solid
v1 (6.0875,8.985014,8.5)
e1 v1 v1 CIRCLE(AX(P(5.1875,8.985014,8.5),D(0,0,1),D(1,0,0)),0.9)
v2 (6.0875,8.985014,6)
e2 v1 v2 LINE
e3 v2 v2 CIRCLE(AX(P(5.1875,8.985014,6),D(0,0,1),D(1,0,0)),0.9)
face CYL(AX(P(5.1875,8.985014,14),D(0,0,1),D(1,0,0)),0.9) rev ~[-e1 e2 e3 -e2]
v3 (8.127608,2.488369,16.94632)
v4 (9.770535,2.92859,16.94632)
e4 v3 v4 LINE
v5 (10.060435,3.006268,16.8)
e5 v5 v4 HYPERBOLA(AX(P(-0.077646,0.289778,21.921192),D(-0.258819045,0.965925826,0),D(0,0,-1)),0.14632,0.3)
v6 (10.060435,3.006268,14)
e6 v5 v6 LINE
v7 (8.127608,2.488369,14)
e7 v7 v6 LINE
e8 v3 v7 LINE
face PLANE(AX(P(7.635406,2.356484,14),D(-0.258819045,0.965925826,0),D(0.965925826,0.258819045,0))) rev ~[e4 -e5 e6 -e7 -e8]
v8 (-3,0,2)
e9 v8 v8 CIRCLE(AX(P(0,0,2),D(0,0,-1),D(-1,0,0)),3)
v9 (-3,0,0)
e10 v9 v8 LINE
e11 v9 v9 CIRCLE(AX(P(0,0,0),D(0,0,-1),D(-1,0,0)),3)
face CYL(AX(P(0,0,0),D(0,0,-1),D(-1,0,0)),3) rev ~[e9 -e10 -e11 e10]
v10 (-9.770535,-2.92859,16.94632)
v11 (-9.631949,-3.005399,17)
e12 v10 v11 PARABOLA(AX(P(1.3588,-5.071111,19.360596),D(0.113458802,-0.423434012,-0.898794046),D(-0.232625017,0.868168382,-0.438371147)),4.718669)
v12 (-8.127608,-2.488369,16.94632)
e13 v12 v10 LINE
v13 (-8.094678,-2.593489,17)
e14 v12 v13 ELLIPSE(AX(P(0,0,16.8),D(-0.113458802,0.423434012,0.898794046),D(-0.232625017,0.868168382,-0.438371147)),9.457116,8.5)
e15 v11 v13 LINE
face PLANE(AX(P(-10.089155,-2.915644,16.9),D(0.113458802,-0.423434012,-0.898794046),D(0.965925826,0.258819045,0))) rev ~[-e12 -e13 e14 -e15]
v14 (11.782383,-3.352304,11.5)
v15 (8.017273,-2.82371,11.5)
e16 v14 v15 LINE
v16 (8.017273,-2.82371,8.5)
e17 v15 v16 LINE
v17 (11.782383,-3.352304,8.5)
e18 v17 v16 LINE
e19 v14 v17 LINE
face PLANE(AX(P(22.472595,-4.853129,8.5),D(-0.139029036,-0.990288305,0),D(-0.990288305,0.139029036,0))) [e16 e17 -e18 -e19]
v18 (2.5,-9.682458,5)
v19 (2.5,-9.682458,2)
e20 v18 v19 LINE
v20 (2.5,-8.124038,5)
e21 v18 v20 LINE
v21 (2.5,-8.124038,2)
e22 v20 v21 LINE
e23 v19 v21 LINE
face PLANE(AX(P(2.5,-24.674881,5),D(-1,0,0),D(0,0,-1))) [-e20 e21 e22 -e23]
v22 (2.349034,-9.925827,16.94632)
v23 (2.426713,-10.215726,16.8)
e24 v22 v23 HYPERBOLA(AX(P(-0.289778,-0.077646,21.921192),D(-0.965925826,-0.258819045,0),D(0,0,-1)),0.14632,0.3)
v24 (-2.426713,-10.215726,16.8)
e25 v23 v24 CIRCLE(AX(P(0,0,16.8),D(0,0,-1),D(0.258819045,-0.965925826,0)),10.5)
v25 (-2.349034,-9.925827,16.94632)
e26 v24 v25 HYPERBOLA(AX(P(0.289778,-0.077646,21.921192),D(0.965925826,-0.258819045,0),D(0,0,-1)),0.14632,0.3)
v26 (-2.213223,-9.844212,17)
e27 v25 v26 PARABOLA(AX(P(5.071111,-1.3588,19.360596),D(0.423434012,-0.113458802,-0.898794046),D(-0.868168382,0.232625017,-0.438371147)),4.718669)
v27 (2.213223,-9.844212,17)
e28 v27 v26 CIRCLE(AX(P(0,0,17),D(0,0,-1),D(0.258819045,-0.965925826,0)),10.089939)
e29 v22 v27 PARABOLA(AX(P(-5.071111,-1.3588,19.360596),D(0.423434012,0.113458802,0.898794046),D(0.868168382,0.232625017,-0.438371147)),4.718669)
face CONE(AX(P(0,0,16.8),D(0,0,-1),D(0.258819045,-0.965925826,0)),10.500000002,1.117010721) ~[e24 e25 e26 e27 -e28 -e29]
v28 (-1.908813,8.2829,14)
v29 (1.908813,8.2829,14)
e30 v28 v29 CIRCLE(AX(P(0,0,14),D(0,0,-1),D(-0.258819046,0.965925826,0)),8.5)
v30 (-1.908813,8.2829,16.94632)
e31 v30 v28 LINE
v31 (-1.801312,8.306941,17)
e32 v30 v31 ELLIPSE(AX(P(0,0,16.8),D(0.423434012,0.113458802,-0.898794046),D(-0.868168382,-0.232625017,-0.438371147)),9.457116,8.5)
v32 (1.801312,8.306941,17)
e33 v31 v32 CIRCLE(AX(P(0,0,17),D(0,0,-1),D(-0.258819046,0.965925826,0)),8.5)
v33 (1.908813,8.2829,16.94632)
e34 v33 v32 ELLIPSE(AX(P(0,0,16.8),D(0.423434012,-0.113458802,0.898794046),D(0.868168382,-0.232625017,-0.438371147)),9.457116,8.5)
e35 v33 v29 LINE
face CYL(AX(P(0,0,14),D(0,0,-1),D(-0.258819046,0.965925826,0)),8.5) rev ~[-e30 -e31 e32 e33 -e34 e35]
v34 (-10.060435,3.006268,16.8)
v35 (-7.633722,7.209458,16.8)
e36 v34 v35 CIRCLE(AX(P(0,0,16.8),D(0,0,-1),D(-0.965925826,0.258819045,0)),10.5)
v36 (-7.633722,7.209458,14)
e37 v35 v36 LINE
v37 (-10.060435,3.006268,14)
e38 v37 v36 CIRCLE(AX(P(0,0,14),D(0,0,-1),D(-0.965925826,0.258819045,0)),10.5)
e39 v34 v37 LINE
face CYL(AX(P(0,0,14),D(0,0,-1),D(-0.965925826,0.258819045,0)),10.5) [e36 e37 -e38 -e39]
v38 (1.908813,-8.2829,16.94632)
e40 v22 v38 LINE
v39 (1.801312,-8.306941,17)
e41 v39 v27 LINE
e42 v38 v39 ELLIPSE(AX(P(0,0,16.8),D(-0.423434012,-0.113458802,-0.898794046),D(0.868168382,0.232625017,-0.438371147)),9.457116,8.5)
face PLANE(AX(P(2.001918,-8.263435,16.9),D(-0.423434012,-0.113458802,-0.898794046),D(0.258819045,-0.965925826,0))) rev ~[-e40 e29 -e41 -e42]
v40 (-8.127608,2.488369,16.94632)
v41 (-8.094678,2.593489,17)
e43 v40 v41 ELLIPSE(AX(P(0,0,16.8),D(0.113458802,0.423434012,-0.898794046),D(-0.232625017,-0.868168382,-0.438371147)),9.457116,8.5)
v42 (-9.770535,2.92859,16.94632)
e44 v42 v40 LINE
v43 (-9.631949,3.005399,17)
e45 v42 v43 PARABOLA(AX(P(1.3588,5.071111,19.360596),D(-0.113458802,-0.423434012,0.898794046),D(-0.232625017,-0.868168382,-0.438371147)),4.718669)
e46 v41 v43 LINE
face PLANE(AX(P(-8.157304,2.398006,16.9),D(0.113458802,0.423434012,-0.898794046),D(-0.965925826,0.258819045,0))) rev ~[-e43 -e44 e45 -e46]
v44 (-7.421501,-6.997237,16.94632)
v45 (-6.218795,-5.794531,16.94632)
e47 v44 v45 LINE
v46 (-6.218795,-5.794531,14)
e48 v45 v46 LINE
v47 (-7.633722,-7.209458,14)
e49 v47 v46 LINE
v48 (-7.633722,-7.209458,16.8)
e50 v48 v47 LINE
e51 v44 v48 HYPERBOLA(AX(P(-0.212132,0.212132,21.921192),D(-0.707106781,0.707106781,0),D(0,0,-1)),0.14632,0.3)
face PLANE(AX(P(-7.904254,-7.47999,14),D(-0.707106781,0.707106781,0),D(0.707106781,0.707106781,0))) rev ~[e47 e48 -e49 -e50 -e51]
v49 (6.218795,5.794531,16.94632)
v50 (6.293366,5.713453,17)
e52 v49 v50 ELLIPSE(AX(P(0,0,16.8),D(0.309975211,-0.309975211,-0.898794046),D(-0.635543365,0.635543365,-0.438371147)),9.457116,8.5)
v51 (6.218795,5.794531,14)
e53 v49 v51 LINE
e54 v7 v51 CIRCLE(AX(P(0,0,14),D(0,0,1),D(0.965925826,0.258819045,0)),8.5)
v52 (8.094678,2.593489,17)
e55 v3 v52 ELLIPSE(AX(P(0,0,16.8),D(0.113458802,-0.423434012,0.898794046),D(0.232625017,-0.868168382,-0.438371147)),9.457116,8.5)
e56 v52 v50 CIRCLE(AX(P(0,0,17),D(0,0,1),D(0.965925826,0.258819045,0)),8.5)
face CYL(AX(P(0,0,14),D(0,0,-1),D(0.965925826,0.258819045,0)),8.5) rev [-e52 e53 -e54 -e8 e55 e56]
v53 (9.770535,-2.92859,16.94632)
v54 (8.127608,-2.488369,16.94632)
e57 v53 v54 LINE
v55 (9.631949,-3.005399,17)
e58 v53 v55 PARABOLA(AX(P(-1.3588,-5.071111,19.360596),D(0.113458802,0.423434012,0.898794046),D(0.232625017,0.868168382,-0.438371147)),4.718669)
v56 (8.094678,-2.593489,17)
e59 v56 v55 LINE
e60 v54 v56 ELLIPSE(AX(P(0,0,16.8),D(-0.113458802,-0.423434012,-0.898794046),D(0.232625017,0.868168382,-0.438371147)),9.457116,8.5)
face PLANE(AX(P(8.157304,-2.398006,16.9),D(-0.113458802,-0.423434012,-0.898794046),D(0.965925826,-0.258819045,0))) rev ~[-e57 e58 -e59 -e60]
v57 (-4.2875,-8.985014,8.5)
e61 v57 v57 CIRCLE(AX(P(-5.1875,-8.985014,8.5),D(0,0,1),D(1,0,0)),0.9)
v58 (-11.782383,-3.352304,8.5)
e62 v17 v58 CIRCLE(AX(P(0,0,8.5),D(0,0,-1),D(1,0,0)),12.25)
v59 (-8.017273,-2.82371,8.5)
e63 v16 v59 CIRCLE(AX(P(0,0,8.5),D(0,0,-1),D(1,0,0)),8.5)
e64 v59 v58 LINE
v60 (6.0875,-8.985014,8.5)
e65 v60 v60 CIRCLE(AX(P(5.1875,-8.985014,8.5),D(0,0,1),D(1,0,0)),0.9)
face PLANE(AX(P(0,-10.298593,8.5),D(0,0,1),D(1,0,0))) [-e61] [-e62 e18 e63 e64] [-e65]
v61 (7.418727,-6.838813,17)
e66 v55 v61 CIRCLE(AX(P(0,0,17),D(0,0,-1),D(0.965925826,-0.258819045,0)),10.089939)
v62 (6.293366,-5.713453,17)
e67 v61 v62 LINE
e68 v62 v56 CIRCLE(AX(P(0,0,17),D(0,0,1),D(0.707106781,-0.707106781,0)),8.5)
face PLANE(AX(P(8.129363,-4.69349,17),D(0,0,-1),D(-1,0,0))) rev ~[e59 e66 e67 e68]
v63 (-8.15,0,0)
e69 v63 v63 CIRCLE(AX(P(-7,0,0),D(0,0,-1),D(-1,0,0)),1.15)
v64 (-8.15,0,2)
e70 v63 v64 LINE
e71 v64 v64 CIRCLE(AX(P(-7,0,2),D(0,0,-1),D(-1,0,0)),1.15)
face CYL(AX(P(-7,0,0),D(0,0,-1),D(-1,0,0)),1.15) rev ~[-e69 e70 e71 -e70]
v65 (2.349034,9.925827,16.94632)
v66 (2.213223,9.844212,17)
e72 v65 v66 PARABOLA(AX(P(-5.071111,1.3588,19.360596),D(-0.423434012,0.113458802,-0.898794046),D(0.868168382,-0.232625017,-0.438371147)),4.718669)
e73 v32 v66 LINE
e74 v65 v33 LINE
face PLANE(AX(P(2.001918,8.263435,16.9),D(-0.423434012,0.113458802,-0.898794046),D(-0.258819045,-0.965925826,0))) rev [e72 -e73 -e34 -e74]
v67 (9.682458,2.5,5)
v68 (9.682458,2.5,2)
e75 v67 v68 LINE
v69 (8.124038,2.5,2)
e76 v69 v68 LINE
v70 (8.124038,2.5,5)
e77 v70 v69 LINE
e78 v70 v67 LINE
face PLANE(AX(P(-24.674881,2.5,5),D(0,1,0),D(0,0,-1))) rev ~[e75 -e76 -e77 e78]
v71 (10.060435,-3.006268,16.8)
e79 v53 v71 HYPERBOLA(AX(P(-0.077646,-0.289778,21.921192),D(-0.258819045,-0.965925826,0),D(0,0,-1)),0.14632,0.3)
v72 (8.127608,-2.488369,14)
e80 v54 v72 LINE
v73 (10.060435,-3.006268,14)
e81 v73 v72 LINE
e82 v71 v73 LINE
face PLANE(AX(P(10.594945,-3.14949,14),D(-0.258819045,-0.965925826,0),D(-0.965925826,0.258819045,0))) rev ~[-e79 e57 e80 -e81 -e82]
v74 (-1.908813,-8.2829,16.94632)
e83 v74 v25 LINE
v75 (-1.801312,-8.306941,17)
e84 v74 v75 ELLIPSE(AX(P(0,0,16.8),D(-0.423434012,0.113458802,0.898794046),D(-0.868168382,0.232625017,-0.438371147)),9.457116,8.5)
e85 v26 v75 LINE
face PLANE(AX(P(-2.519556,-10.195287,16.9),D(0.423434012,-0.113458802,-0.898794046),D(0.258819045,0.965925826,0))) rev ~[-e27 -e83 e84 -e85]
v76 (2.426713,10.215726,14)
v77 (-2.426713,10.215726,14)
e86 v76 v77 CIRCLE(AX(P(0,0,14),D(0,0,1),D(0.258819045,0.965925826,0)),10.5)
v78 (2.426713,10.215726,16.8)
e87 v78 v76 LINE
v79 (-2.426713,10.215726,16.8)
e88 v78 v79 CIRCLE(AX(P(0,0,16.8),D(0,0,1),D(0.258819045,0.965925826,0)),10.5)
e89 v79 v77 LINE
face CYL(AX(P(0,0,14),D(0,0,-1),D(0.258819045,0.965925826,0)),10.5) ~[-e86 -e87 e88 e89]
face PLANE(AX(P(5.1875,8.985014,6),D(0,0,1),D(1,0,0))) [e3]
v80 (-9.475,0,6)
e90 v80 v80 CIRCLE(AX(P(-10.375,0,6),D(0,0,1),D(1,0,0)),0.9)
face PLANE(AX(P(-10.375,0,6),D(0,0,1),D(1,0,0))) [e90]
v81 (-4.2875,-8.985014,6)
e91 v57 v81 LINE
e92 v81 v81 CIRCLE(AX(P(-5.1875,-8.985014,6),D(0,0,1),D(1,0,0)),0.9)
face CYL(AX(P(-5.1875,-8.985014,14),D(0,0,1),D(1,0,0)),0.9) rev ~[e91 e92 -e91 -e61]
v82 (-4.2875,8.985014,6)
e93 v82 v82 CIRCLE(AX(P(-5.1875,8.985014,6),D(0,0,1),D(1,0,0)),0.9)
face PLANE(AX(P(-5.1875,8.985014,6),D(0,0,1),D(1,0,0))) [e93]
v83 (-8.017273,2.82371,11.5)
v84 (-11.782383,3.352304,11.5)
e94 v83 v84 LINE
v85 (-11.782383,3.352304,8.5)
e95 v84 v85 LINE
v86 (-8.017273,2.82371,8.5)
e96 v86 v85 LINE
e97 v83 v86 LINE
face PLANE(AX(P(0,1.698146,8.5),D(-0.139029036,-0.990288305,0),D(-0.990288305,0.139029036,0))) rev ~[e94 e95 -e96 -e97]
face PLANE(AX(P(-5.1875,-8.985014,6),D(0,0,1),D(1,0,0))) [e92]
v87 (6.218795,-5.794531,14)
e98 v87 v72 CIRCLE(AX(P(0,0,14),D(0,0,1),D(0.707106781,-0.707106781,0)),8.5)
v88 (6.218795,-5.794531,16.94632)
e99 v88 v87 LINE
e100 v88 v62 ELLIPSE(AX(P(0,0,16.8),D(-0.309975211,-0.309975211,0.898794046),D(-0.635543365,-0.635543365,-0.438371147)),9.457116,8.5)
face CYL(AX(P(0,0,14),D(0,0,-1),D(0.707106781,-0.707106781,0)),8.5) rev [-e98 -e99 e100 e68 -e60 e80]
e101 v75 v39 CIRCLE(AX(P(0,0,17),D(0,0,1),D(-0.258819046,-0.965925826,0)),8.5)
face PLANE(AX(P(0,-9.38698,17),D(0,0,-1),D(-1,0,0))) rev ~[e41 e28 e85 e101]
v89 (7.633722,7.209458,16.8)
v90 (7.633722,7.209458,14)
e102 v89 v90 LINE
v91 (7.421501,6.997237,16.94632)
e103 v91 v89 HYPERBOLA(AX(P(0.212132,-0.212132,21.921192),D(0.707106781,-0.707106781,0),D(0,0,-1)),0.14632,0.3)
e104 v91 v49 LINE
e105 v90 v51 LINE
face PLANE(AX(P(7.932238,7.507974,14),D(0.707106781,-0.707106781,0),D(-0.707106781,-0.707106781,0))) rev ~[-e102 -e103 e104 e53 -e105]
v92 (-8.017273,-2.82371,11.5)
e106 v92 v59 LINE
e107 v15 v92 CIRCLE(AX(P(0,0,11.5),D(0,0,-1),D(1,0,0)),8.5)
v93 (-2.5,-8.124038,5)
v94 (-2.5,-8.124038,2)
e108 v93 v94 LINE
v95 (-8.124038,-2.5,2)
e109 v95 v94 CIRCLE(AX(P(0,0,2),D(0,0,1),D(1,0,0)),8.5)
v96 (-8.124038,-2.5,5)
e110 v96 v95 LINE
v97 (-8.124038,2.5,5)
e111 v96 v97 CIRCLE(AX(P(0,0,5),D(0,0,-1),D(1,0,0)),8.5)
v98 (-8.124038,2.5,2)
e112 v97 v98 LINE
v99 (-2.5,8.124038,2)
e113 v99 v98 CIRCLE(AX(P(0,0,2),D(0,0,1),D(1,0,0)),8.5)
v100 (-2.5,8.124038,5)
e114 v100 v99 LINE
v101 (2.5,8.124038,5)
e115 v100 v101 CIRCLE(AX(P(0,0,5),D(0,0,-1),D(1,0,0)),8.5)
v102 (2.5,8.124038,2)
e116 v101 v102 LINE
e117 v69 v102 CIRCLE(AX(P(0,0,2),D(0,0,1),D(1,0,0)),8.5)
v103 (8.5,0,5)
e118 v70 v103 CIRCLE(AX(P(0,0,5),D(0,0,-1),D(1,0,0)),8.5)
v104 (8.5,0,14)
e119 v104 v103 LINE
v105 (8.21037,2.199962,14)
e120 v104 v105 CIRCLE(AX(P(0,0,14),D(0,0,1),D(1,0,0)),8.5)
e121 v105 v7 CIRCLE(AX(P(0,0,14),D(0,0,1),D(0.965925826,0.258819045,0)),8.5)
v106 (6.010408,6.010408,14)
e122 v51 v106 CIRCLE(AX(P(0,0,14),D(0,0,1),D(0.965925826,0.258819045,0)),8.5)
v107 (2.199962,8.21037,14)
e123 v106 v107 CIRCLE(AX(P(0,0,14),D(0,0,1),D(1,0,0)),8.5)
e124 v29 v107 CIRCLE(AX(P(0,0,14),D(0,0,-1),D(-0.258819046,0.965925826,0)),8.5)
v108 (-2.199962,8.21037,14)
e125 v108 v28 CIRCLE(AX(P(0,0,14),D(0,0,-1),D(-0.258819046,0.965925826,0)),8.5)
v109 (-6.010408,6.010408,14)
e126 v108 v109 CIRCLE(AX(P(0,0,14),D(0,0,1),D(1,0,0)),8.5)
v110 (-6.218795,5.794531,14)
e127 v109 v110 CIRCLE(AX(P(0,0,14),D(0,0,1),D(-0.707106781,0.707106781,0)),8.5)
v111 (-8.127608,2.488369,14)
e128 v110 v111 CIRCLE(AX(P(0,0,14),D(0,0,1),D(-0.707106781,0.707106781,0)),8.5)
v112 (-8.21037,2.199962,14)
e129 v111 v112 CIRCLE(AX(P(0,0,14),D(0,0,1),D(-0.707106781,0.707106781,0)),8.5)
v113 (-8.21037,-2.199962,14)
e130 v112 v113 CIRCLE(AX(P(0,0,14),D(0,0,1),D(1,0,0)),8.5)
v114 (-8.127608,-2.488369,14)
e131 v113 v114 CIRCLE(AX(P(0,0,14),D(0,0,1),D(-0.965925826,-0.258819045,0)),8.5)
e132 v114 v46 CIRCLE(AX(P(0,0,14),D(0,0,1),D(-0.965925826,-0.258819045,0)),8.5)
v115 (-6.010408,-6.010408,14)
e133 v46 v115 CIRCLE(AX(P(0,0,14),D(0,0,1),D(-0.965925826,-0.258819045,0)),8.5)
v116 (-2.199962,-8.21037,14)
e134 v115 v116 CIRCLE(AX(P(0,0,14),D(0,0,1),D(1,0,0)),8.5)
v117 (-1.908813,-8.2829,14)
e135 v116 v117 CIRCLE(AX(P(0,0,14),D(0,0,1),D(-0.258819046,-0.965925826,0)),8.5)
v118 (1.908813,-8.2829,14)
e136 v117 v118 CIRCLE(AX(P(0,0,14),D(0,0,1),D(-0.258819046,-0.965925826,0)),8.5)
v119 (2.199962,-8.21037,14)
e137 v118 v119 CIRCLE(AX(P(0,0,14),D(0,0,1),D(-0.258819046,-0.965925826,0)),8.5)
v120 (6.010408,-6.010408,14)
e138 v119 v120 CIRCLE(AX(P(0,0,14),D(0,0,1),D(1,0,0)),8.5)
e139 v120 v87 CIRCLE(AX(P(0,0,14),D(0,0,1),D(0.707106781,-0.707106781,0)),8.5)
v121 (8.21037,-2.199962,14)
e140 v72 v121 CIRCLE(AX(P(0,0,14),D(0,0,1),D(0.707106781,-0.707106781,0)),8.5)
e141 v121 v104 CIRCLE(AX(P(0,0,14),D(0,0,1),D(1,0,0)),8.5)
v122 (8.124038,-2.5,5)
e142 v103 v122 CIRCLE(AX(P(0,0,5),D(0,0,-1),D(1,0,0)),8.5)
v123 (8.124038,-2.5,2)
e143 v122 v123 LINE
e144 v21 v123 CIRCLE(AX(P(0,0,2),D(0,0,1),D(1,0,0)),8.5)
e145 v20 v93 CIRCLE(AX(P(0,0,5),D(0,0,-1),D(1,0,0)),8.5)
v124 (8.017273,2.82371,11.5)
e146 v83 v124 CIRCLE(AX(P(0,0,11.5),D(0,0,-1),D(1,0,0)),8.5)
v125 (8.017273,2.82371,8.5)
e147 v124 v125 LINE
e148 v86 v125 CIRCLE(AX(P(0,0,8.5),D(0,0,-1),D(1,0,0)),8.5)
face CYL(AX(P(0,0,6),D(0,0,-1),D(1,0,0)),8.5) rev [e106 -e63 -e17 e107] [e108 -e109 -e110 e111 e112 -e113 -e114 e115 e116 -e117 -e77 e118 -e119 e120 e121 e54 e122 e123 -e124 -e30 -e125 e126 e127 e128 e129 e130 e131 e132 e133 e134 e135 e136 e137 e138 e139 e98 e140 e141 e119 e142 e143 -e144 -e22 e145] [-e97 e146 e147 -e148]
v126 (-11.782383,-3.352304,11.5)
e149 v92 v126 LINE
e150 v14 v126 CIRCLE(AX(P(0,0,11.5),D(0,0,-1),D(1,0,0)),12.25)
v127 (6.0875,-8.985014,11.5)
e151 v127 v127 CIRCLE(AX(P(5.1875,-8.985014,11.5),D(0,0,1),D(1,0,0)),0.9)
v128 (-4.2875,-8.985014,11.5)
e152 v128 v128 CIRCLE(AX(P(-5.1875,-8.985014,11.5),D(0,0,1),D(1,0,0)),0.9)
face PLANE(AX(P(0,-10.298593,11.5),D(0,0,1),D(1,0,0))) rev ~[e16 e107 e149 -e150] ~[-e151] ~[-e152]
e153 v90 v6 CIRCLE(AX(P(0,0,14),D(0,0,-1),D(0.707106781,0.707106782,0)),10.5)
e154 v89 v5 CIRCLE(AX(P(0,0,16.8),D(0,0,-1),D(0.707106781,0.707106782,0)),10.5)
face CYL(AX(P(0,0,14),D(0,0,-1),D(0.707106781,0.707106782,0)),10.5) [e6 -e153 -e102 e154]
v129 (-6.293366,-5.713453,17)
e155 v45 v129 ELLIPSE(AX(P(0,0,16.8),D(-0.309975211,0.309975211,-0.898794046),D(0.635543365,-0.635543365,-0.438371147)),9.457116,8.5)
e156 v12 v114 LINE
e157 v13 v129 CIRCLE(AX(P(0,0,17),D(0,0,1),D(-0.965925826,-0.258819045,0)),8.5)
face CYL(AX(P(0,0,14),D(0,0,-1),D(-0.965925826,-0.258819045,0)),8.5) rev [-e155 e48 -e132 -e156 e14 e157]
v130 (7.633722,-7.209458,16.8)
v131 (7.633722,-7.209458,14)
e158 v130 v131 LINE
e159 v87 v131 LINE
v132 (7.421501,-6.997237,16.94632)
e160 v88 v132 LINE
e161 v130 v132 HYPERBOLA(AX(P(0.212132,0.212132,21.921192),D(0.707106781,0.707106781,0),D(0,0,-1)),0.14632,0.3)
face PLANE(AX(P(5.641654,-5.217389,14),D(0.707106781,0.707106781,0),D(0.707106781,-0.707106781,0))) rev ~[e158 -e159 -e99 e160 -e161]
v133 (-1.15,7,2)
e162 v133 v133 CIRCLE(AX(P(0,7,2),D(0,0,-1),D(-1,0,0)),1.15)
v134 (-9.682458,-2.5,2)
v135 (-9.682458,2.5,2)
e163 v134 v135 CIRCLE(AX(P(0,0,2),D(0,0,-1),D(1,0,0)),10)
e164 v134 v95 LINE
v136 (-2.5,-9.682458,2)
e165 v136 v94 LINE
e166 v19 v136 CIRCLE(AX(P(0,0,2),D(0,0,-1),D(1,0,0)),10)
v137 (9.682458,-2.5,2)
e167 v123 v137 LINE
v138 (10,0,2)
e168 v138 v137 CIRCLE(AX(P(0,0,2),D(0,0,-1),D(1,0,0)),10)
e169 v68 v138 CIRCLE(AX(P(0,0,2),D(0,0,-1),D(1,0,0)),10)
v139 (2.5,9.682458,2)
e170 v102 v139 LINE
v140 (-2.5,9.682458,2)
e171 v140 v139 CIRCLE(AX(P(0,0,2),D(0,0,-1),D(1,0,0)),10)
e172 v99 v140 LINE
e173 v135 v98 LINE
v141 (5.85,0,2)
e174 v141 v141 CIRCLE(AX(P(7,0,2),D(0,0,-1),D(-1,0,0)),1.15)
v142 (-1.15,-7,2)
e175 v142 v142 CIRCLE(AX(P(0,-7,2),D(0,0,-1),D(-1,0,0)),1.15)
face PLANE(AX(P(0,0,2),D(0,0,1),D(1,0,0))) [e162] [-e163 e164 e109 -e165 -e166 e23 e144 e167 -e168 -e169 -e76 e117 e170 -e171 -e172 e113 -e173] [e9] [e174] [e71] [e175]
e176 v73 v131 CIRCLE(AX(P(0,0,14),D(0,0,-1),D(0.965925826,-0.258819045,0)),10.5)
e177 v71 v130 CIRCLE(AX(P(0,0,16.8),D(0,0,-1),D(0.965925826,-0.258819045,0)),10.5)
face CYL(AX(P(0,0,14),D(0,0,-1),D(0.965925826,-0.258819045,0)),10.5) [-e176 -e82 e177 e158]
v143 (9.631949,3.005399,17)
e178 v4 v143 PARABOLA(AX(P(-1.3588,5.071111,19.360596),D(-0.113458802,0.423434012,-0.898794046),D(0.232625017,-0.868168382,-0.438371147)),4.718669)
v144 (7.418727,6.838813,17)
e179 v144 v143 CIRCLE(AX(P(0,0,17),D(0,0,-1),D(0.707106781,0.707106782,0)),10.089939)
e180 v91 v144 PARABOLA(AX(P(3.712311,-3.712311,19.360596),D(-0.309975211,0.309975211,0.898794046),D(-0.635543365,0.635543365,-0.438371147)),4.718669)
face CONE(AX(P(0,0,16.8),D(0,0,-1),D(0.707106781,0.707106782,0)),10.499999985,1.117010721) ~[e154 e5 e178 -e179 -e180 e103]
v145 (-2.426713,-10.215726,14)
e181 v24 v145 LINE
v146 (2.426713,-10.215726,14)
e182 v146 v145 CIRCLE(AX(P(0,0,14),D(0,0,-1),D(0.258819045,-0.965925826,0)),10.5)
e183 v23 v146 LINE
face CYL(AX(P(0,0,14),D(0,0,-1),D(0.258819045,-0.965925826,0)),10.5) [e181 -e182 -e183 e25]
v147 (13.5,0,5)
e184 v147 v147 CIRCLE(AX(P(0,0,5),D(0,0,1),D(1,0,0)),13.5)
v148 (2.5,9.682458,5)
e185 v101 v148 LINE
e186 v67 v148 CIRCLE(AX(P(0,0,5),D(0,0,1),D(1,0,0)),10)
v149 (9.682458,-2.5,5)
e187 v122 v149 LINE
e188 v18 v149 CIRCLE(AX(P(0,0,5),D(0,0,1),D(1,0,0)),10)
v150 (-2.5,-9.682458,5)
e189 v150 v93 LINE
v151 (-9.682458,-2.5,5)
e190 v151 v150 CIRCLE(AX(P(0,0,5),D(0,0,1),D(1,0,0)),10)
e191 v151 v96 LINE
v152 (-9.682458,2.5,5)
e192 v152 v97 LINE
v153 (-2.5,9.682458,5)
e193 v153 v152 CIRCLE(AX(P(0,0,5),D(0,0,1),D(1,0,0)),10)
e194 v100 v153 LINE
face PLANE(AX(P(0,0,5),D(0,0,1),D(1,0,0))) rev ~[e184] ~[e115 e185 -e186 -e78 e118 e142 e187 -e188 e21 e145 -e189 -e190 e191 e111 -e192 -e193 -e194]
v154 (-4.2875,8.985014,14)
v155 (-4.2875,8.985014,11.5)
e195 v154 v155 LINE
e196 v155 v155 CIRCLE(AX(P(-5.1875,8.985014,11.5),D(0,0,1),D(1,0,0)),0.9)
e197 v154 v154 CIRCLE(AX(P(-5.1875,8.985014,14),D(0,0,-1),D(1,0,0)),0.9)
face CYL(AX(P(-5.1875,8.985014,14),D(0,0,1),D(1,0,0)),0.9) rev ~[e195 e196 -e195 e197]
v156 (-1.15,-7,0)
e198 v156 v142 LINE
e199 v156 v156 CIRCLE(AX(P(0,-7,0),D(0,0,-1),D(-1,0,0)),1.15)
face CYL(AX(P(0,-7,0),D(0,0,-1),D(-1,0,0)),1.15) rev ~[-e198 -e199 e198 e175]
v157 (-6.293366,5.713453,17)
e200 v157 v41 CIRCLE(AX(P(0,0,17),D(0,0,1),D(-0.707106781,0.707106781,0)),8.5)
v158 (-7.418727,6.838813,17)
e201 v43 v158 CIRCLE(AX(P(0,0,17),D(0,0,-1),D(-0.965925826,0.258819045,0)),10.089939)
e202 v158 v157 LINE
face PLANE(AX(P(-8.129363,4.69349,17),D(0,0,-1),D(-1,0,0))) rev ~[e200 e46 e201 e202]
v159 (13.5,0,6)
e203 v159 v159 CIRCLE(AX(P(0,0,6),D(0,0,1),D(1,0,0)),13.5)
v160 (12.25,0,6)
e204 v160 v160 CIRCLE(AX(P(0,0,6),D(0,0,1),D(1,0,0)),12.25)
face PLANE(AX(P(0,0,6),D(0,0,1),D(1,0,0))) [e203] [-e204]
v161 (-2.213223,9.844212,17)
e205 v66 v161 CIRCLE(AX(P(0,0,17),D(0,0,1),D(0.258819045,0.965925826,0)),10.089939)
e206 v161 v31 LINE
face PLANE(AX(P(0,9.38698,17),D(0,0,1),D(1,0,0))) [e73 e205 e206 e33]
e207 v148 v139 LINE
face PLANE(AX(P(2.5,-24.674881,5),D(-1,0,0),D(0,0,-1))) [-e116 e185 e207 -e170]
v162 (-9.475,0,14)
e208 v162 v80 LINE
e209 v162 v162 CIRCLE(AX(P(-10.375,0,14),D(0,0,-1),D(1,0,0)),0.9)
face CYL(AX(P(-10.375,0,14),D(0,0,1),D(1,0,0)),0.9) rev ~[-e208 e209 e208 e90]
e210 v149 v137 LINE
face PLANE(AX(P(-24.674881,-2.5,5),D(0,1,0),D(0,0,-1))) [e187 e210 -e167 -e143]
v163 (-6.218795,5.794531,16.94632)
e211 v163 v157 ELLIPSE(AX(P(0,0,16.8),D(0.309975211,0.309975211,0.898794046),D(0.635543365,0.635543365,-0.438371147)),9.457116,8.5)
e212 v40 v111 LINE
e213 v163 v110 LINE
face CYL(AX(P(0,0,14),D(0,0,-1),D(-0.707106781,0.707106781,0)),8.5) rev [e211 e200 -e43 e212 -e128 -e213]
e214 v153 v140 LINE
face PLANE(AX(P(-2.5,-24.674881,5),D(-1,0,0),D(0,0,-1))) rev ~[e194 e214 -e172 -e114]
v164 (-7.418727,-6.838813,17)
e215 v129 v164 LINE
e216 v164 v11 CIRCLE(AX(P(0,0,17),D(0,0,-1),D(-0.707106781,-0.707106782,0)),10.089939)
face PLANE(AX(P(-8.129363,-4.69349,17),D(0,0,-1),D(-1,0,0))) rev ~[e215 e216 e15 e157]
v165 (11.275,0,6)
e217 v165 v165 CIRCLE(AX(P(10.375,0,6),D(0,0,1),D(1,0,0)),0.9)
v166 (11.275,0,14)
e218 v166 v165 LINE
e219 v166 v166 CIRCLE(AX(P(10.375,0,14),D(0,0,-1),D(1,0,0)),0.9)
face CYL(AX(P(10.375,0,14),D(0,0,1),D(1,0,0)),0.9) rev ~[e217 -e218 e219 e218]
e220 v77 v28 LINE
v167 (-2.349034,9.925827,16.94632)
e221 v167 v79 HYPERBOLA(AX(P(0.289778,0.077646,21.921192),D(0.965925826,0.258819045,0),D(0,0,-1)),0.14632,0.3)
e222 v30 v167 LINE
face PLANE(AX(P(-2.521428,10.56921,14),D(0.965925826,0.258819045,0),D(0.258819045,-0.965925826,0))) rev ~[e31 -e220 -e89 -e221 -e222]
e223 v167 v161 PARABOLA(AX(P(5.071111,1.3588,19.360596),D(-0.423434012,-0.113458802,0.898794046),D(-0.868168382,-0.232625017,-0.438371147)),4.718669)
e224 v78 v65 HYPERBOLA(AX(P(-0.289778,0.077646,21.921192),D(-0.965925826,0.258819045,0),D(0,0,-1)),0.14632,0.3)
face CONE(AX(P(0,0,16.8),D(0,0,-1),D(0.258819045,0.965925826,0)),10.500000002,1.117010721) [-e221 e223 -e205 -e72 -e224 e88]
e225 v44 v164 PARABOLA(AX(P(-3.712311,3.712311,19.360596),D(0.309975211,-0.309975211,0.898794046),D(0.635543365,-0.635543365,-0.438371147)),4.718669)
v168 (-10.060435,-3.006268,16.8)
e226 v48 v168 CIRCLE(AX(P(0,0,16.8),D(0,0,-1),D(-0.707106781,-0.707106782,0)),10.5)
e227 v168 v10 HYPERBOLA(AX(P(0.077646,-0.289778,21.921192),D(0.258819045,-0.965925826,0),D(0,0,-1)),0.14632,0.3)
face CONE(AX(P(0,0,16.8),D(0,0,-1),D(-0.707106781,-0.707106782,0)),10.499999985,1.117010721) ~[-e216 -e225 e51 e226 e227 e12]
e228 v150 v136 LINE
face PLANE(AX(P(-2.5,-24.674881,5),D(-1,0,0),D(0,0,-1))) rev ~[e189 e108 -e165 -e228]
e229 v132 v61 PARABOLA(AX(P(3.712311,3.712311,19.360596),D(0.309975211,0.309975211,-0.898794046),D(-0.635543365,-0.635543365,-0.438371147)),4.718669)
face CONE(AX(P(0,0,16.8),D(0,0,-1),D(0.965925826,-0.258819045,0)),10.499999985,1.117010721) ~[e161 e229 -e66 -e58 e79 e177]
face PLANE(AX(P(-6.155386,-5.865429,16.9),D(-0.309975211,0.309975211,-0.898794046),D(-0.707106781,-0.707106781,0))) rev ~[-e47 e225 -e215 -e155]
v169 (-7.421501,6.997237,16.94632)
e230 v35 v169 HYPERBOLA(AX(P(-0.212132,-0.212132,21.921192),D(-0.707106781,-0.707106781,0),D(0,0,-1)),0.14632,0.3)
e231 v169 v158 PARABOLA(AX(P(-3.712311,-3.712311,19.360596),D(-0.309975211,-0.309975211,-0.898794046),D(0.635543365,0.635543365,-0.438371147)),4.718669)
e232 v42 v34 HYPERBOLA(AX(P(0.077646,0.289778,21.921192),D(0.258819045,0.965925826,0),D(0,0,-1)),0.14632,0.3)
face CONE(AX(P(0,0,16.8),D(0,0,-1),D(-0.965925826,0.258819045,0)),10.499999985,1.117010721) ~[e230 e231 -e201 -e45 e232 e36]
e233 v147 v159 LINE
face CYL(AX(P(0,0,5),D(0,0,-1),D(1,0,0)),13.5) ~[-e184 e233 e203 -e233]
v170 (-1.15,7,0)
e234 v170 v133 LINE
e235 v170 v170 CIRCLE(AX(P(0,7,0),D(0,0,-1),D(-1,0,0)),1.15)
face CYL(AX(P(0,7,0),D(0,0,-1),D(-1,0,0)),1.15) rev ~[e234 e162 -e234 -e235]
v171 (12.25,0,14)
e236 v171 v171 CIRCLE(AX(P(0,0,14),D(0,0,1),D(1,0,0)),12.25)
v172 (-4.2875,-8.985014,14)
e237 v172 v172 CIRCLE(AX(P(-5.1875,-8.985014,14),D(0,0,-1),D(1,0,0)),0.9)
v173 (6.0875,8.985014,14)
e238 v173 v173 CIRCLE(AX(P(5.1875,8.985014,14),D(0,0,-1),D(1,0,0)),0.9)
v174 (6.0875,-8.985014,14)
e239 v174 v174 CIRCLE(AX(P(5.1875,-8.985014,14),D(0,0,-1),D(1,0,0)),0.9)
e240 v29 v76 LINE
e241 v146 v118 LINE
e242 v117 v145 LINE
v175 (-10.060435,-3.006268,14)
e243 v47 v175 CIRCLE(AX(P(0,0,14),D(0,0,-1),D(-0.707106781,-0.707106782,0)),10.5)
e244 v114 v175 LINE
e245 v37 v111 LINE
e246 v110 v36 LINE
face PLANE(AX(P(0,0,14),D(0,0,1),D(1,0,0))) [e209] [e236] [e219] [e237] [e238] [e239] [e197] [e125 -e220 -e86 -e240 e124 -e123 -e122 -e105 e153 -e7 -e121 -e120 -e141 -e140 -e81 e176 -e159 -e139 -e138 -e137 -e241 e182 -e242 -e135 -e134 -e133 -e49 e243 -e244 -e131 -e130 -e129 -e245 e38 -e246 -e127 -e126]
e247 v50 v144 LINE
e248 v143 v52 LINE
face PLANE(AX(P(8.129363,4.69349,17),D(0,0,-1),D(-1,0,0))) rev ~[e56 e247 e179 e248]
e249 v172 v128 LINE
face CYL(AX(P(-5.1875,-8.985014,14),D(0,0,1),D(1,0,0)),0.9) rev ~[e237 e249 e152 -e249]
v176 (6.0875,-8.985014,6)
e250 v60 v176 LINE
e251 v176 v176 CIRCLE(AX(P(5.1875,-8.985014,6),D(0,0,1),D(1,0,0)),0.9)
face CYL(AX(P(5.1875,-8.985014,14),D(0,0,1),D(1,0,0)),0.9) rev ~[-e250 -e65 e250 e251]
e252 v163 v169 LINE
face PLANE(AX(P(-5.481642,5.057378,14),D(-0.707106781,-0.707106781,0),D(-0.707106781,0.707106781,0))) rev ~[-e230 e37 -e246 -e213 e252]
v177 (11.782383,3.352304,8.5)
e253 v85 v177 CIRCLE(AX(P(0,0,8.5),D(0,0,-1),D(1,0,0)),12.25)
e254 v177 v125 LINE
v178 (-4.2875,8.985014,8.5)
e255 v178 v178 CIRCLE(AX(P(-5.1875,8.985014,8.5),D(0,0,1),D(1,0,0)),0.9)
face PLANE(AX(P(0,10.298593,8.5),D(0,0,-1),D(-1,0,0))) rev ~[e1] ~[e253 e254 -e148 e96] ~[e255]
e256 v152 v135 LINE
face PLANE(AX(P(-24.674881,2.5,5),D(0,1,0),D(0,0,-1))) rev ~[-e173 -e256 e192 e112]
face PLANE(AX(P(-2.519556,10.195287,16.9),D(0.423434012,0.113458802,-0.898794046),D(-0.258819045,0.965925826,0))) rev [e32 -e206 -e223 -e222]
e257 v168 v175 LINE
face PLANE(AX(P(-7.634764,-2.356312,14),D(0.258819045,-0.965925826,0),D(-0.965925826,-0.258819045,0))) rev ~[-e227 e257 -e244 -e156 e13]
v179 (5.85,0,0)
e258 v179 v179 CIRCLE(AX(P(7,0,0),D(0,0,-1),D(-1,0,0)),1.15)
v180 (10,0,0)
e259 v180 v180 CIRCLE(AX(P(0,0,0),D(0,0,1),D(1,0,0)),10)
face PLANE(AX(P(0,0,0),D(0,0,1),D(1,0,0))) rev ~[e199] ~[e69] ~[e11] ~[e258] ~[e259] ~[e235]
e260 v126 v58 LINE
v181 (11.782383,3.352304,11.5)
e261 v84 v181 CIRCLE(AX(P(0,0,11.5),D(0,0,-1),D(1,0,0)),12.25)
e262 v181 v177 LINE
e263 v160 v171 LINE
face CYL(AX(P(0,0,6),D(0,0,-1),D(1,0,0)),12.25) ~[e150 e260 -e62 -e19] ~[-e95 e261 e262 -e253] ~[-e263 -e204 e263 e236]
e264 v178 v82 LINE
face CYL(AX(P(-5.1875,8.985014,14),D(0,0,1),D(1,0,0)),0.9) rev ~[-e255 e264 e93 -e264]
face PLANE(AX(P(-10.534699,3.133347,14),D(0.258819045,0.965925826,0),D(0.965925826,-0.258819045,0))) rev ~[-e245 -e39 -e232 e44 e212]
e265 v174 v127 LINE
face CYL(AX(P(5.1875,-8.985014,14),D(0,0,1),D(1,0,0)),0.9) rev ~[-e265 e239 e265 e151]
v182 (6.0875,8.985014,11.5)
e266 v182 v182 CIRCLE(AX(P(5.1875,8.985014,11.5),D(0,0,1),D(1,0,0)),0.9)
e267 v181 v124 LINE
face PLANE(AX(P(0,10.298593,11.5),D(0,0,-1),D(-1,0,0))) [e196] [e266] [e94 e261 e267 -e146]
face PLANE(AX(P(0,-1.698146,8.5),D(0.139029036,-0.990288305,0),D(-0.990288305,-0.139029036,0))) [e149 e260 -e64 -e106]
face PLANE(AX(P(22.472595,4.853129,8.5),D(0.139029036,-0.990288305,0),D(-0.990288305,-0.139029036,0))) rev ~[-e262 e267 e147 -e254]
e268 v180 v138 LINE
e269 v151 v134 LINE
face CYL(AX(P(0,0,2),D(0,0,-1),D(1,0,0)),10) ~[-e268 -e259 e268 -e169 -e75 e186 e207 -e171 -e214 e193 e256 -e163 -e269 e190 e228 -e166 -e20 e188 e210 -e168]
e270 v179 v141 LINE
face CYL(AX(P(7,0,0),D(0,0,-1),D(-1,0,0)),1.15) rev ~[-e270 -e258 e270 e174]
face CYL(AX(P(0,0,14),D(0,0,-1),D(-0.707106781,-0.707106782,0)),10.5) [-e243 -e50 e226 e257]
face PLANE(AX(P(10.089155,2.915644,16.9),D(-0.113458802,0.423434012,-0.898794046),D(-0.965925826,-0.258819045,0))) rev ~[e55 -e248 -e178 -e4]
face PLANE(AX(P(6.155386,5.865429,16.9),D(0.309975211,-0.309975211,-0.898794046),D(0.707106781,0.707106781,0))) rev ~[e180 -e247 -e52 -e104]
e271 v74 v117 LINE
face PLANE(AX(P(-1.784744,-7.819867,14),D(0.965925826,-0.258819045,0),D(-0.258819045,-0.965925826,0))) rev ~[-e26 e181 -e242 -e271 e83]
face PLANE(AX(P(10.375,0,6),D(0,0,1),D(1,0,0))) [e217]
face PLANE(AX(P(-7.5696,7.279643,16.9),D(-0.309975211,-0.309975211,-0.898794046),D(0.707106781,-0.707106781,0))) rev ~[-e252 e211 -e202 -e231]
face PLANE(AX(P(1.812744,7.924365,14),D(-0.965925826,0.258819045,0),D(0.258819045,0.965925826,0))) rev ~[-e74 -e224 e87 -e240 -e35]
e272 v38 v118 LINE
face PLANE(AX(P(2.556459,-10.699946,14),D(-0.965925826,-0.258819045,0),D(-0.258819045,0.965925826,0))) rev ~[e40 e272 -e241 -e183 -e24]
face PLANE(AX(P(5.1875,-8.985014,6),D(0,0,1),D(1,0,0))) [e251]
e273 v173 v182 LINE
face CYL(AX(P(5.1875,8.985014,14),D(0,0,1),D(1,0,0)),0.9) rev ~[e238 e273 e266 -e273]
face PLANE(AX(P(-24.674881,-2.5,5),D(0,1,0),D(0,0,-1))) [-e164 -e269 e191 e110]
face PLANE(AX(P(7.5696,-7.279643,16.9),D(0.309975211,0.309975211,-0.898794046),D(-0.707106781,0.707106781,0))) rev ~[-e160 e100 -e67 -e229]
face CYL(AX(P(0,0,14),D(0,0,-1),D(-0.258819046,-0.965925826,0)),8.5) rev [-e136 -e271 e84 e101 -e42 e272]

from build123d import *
from OCP.BRepFilletAPI import BRepFilletAPI_MakeChamfer

# Parameters (mm, degrees)
SKETCH_1_R               = 10
EXTRUDE_1_DEPTH          = 2
SKETCH_2_R               = 10
SKETCH_2_R_2             = 8.5
EXTRUDE_2_DEPTH          = 3
SKETCH_4_R               = 13.5
SKETCH_4_R_2             = 8.5
EXTRUDE_3_DEPTH          = 1
SKETCH_5_R               = 12.25
SKETCH_5_R_2             = 8.5
EXTRUDE_4_DEPTH          = 8
SKETCH_6_R               = 0.9
CUT_EXTRUDE_1_DEPTH      = 8
SKETCH_7_R               = 3
SKETCH_7_R_2             = 1.15
CUT_EXTRUDE_2_DEPTH      = 24.674881204
CUT_EXTRUDE_3_DEPTH      = 24.674881204
CUT_EXTRUDE_3_DEPTH_BACK = 24.674881204
SKETCH_8_W               = 5
SKETCH_8_H               = 3
CUT_EXTRUDE_4_DEPTH      = 24.674881204
CUT_EXTRUDE_4_DEPTH_BACK = 24.674881204
SKETCH_9_W               = 3
SKETCH_9_H               = 5
EXTRUDE_5_DEPTH          = 3
CHAMFER_1_SIZE           = 0.2
CHAMFER_1_SIZE2          = 0.410060768
CUT_EXTRUDE1_DEPTH       = 28
CUT_EXTRUDE2_DEPTH       = 1.5
CUT_EXTRUDE2_DEPTH_BACK  = 1.5


with BuildPart() as part:
    # 스케치1 → 보스-돌출1 (new body)
    with BuildSketch(Plane.XY):
        Circle(SKETCH_1_R)
    extrude(amount=EXTRUDE_1_DEPTH)

    # 스케치2 → 보스-돌출2 (add)
    with BuildSketch(Plane.XY.offset(2)):
        Circle(SKETCH_2_R)
        Circle(SKETCH_2_R_2, mode=Mode.SUBTRACT)
    extrude(amount=EXTRUDE_2_DEPTH)

    # 스케치4 → 보스-돌출3 (add)
    with BuildSketch(Plane.XY.offset(5)):
        Circle(SKETCH_4_R)
        Circle(SKETCH_4_R_2, mode=Mode.SUBTRACT)
    extrude(amount=EXTRUDE_3_DEPTH)

    # 스케치5 → 보스-돌출4 (add)
    with BuildSketch(Plane.XY.offset(6)):
        Circle(SKETCH_5_R)
        Circle(SKETCH_5_R_2, mode=Mode.SUBTRACT)
    extrude(amount=EXTRUDE_4_DEPTH)

    # 스케치6 → 컷-돌출1 (cut)
    with BuildSketch(Plane.XY.offset(14)):
        with Locations((10.375, 0)):
            Circle(SKETCH_6_R)
        with Locations((5.1875, -8.985013564)):
            Circle(SKETCH_6_R)
        with Locations((-5.1875, -8.985013564)):
            Circle(SKETCH_6_R)
        with Locations((-10.375, 0)):
            Circle(SKETCH_6_R)
        with Locations((-5.1875, 8.985013564)):
            Circle(SKETCH_6_R)
        with Locations((5.1875, 8.985013564)):
            Circle(SKETCH_6_R)
    extrude(amount=-CUT_EXTRUDE_1_DEPTH, mode=Mode.SUBTRACT)

    # 스케치7 → 컷-돌출2 (cut, through all)
    with BuildSketch(Plane(origin=(0, 0, 0), x_dir=(-1, 0, 0), z_dir=(0, 0, -1))):
        Circle(SKETCH_7_R)
        with Locations((-7, 0)):
            Circle(SKETCH_7_R_2)
        with Locations((7, 0)):
            Circle(SKETCH_7_R_2)
        with Locations((0, 7)):
            Circle(SKETCH_7_R_2)
        with Locations((0, -7)):
            Circle(SKETCH_7_R_2)
    extrude(amount=-CUT_EXTRUDE_2_DEPTH, mode=Mode.SUBTRACT)

    # 스케치8 → 컷-돌출3 (cut, two sides: drawn at the far end of the back side and taken through both)
    with BuildSketch(Plane(origin=(0, 0, 0), x_dir=(1, 0, 0), z_dir=(0, 1, 0)).offset(-CUT_EXTRUDE_3_DEPTH_BACK)):
        with Locations((0, -3.5)):
            Rectangle(SKETCH_8_W, SKETCH_8_H)
    extrude(amount=CUT_EXTRUDE_3_DEPTH + CUT_EXTRUDE_3_DEPTH_BACK, mode=Mode.SUBTRACT)

    # 스케치9 → 컷-돌출4 (cut, two sides: drawn at the far end of the back side and taken through both)
    with BuildSketch(Plane(origin=(0, 0, 0), x_dir=(0, 0, -1), z_dir=(1, 0, 0)).offset(-CUT_EXTRUDE_4_DEPTH_BACK)):
        with Locations((-3.5, 0)):
            Rectangle(SKETCH_9_W, SKETCH_9_H)
    extrude(amount=CUT_EXTRUDE_4_DEPTH + CUT_EXTRUDE_4_DEPTH_BACK, mode=Mode.SUBTRACT)

    # 스케치10 → 보스-돌출5 (add)
    with BuildSketch(Plane.XY.offset(14)):
        with BuildLine():
            Line((2.199961883, 8.210369523), (2.717599974, 10.142221176))
            ThreePointArc((2.717599974, 10.142221176), (0, 10.5), (-2.717599974, 10.142221176))
            Line((-2.717599974, 10.142221176), (-2.199961883, 8.210369523))
            ThreePointArc((-2.199961883, 8.210369523), (0, 8.5), (2.199961883, 8.210369523))
        make_face()
        with BuildLine():
            Line((6.01040764, 6.01040764), (7.424621202, 7.424621202))
            ThreePointArc((7.424621202, 7.424621202), (9.09326674, 5.25), (10.142221176, 2.717599974))
            Line((10.142221176, 2.717599974), (8.210369523, 2.199961883))
            ThreePointArc((8.210369523, 2.199961883), (7.361215932, 4.25), (6.01040764, 6.01040764))
        make_face()
        with BuildLine():
            Line((8.210369523, -2.199961883), (10.142221176, -2.717599974))
            ThreePointArc((10.142221176, -2.717599974), (9.09326674, -5.25), (7.424621202, -7.424621202))
            Line((7.424621202, -7.424621202), (6.01040764, -6.01040764))
            ThreePointArc((6.01040764, -6.01040764), (7.361215932, -4.25), (8.210369523, -2.199961883))
        make_face()
        with BuildLine():
            Line((2.199961883, -8.210369523), (2.717599974, -10.142221176))
            ThreePointArc((2.717599974, -10.142221176), (0, -10.5), (-2.717599974, -10.142221176))
            Line((-2.717599974, -10.142221176), (-2.199961883, -8.210369523))
            ThreePointArc((-2.199961883, -8.210369523), (0, -8.5), (2.199961883, -8.210369523))
        make_face()
        with BuildLine():
            Line((-6.01040764, -6.01040764), (-7.424621202, -7.424621202))
            ThreePointArc((-7.424621202, -7.424621202), (-9.09326674, -5.25), (-10.142221176, -2.717599974))
            Line((-10.142221176, -2.717599974), (-8.210369523, -2.199961883))
            ThreePointArc((-8.210369523, -2.199961883), (-7.361215932, -4.25), (-6.01040764, -6.01040764))
        make_face()
        with BuildLine():
            Line((-8.210369523, 2.199961883), (-10.142221176, 2.717599974))
            ThreePointArc((-10.142221176, 2.717599974), (-9.09326674, 5.25), (-7.424621202, 7.424621202))
            Line((-7.424621202, 7.424621202), (-6.01040764, 6.01040764))
            ThreePointArc((-6.01040764, 6.01040764), (-7.361215932, 4.25), (-8.210369523, 2.199961883))
        make_face()
    extrude(amount=EXTRUDE_5_DEPTH)

    # 모따기1: one chamfer whose edges measure the first distance from different faces: ONE call of the kernel's chamfer builder (chamfer() names one face for all edges)
    chamfer_1_edges_1 = [part.edges().sort_by_distance(p)[0] for p in [
        (-6.717514421, 6.717514421, 17),
    ]]
    chamfer_1_side_1 = [part.faces().sort_by_distance(p)[0] for p in [
        (-6.717514421, 6.717514421, 15.5),
    ]]
    chamfer_1_edges_2 = [part.edges().sort_by_distance(p)[0] for p in [
        (-9.09326674, 5.25, 17),
    ]]
    chamfer_1_side_2 = [part.faces().sort_by_distance(p)[0] for p in [
        (-9.09326674, 5.25, 15.5),
    ]]
    chamfer_1_edges_3 = [part.edges().sort_by_distance(p)[0] for p in [
        (-9.17629535, 2.458780928, 17),
    ]]
    chamfer_1_side_3 = [part.faces().sort_by_distance(p)[0] for p in [
        (-9.17629535, 2.458780928, 15.5),
    ]]
    chamfer_1_edges_4 = [part.edges().sort_by_distance(p)[0] for p in [
        (-9.17629535, -2.458780928, 17),
    ]]
    chamfer_1_side_4 = [part.faces().sort_by_distance(p)[0] for p in [
        (-9.17629535, -2.458780928, 15.5),
    ]]
    chamfer_1_edges_5 = [part.edges().sort_by_distance(p)[0] for p in [
        (-9.09326674, -5.25, 17),
    ]]
    chamfer_1_side_5 = [part.faces().sort_by_distance(p)[0] for p in [
        (-9.09326674, -5.25, 15.5),
    ]]
    chamfer_1_edges_6 = [part.edges().sort_by_distance(p)[0] for p in [
        (-6.717514421, -6.717514421, 17),
    ]]
    chamfer_1_side_6 = [part.faces().sort_by_distance(p)[0] for p in [
        (-6.717514421, -6.717514421, 15.5),
    ]]
    chamfer_1_edges_7 = [part.edges().sort_by_distance(p)[0] for p in [
        (0, 10.5, 17),
    ]]
    chamfer_1_side_7 = [part.faces().sort_by_distance(p)[0] for p in [
        (0, 10.5, 15.5),
    ]]
    chamfer_1_edges_8 = [part.edges().sort_by_distance(p)[0] for p in [
        (-2.458780928, 9.17629535, 17),
    ]]
    chamfer_1_side_8 = [part.faces().sort_by_distance(p)[0] for p in [
        (-2.458780928, 9.17629535, 15.5),
    ]]
    chamfer_1_edges_9 = [part.edges().sort_by_distance(p)[0] for p in [
        (2.458780928, 9.17629535, 17),
    ]]
    chamfer_1_side_9 = [part.faces().sort_by_distance(p)[0] for p in [
        (2.458780928, 9.17629535, 15.5),
    ]]
    chamfer_1_edges_10 = [part.edges().sort_by_distance(p)[0] for p in [
        (-2.458780928, -9.17629535, 17),
    ]]
    chamfer_1_side_10 = [part.faces().sort_by_distance(p)[0] for p in [
        (-2.458780928, -9.17629535, 15.5),
    ]]
    chamfer_1_edges_11 = [part.edges().sort_by_distance(p)[0] for p in [
        (0, -10.5, 17),
    ]]
    chamfer_1_side_11 = [part.faces().sort_by_distance(p)[0] for p in [
        (0, -10.5, 15.5),
    ]]
    chamfer_1_edges_12 = [part.edges().sort_by_distance(p)[0] for p in [
        (2.458780928, -9.17629535, 17),
    ]]
    chamfer_1_side_12 = [part.faces().sort_by_distance(p)[0] for p in [
        (2.458780928, -9.17629535, 15.5),
    ]]
    chamfer_1_edges_13 = [part.edges().sort_by_distance(p)[0] for p in [
        (9.09326674, 5.25, 17),
    ]]
    chamfer_1_side_13 = [part.faces().sort_by_distance(p)[0] for p in [
        (9.09326674, 5.25, 15.5),
    ]]
    chamfer_1_edges_14 = [part.edges().sort_by_distance(p)[0] for p in [
        (6.717514421, 6.717514421, 17),
    ]]
    chamfer_1_side_14 = [part.faces().sort_by_distance(p)[0] for p in [
        (6.717514421, 6.717514421, 15.5),
    ]]
    chamfer_1_edges_15 = [part.edges().sort_by_distance(p)[0] for p in [
        (9.17629535, 2.458780928, 17),
    ]]
    chamfer_1_side_15 = [part.faces().sort_by_distance(p)[0] for p in [
        (9.17629535, 2.458780928, 15.5),
    ]]
    chamfer_1_edges_16 = [part.edges().sort_by_distance(p)[0] for p in [
        (6.717514421, -6.717514421, 17),
    ]]
    chamfer_1_side_16 = [part.faces().sort_by_distance(p)[0] for p in [
        (6.717514421, -6.717514421, 15.5),
    ]]
    chamfer_1_edges_17 = [part.edges().sort_by_distance(p)[0] for p in [
        (9.09326674, -5.25, 17),
    ]]
    chamfer_1_side_17 = [part.faces().sort_by_distance(p)[0] for p in [
        (9.09326674, -5.25, 15.5),
    ]]
    chamfer_1_edges_18 = [part.edges().sort_by_distance(p)[0] for p in [
        (9.17629535, -2.458780928, 17),
    ]]
    chamfer_1_side_18 = [part.faces().sort_by_distance(p)[0] for p in [
        (9.17629535, -2.458780928, 15.5),
    ]]
    chamfer_1 = BRepFilletAPI_MakeChamfer(part.part.solid().wrapped)
    for e in chamfer_1_edges_1:
        chamfer_1.Add(CHAMFER_1_SIZE, CHAMFER_1_SIZE2, e.wrapped, chamfer_1_side_1[0].wrapped)  # the first distance lies on this face
    for e in chamfer_1_edges_2:
        chamfer_1.Add(CHAMFER_1_SIZE, CHAMFER_1_SIZE2, e.wrapped, chamfer_1_side_2[0].wrapped)  # the first distance lies on this face
    for e in chamfer_1_edges_3:
        chamfer_1.Add(CHAMFER_1_SIZE, CHAMFER_1_SIZE2, e.wrapped, chamfer_1_side_3[0].wrapped)  # the first distance lies on this face
    for e in chamfer_1_edges_4:
        chamfer_1.Add(CHAMFER_1_SIZE, CHAMFER_1_SIZE2, e.wrapped, chamfer_1_side_4[0].wrapped)  # the first distance lies on this face
    for e in chamfer_1_edges_5:
        chamfer_1.Add(CHAMFER_1_SIZE, CHAMFER_1_SIZE2, e.wrapped, chamfer_1_side_5[0].wrapped)  # the first distance lies on this face
    for e in chamfer_1_edges_6:
        chamfer_1.Add(CHAMFER_1_SIZE, CHAMFER_1_SIZE2, e.wrapped, chamfer_1_side_6[0].wrapped)  # the first distance lies on this face
    for e in chamfer_1_edges_7:
        chamfer_1.Add(CHAMFER_1_SIZE, CHAMFER_1_SIZE2, e.wrapped, chamfer_1_side_7[0].wrapped)  # the first distance lies on this face
    for e in chamfer_1_edges_8:
        chamfer_1.Add(CHAMFER_1_SIZE, CHAMFER_1_SIZE2, e.wrapped, chamfer_1_side_8[0].wrapped)  # the first distance lies on this face
    for e in chamfer_1_edges_9:
        chamfer_1.Add(CHAMFER_1_SIZE, CHAMFER_1_SIZE2, e.wrapped, chamfer_1_side_9[0].wrapped)  # the first distance lies on this face
    for e in chamfer_1_edges_10:
        chamfer_1.Add(CHAMFER_1_SIZE, CHAMFER_1_SIZE2, e.wrapped, chamfer_1_side_10[0].wrapped)  # the first distance lies on this face
    for e in chamfer_1_edges_11:
        chamfer_1.Add(CHAMFER_1_SIZE, CHAMFER_1_SIZE2, e.wrapped, chamfer_1_side_11[0].wrapped)  # the first distance lies on this face
    for e in chamfer_1_edges_12:
        chamfer_1.Add(CHAMFER_1_SIZE, CHAMFER_1_SIZE2, e.wrapped, chamfer_1_side_12[0].wrapped)  # the first distance lies on this face
    for e in chamfer_1_edges_13:
        chamfer_1.Add(CHAMFER_1_SIZE, CHAMFER_1_SIZE2, e.wrapped, chamfer_1_side_13[0].wrapped)  # the first distance lies on this face
    for e in chamfer_1_edges_14:
        chamfer_1.Add(CHAMFER_1_SIZE, CHAMFER_1_SIZE2, e.wrapped, chamfer_1_side_14[0].wrapped)  # the first distance lies on this face
    for e in chamfer_1_edges_15:
        chamfer_1.Add(CHAMFER_1_SIZE, CHAMFER_1_SIZE2, e.wrapped, chamfer_1_side_15[0].wrapped)  # the first distance lies on this face
    for e in chamfer_1_edges_16:
        chamfer_1.Add(CHAMFER_1_SIZE, CHAMFER_1_SIZE2, e.wrapped, chamfer_1_side_16[0].wrapped)  # the first distance lies on this face
    for e in chamfer_1_edges_17:
        chamfer_1.Add(CHAMFER_1_SIZE, CHAMFER_1_SIZE2, e.wrapped, chamfer_1_side_17[0].wrapped)  # the first distance lies on this face
    for e in chamfer_1_edges_18:
        chamfer_1.Add(CHAMFER_1_SIZE, CHAMFER_1_SIZE2, e.wrapped, chamfer_1_side_18[0].wrapped)  # the first distance lies on this face
    add(Compound.cast(chamfer_1.Shape()), mode=Mode.REPLACE)

    # Sketch1 → Cut-Extrude1 (cut)
    with BuildSketch(Plane.XY.offset(14)):
        Polygon((-1.810450153, 7.915802947), (-5.481642099, 5.05737803), (-8.346954939, 7.92269087), (-2.521428309, 10.569209549), align=None)
        Polygon((-8.024658224, 2.460783545), (-7.634763962, -2.356311692), (-10.630124095, -3.158916021), (-10.534699141, 3.133346982), align=None)
        Polygon((-5.900110023, -5.475845954), (-1.784744072, -7.819866548), (-2.556356452, -10.699563151), (-7.904253722, -7.479989654), align=None)
        Polygon((1.844696422, -8.043611764), (5.641653521, -5.217389452), (7.95973846, -7.535474391), (2.556459055, -10.699946072), align=None)
        Polygon((7.438698098, -2.303776002), (7.63540584, 2.356483683), (10.467440175, 3.115324996), (10.594945273, -3.149489884), align=None)
        Polygon((5.988701722, 5.564437653), (1.812744218, 7.924364514), (2.528807519, 10.596749137), (7.932238358, 7.507974289), align=None)
    extrude(amount=CUT_EXTRUDE1_DEPTH, mode=Mode.SUBTRACT)

    # Sketch2 → Cut-Extrude2 (cut, two sides: drawn at the far end of the back side and taken through both)
    with BuildSketch(Plane.XY.offset(10).offset(-CUT_EXTRUDE2_DEPTH_BACK)):
        Polygon((0, 1.698145606), (-22.472595471, 4.853129123), (-22.472595471, 17.03925296), (22.472595471, 17.03925296), (22.472595471, 4.853129123), align=None)
        Polygon((0, -1.698145606), (-22.472595471, -4.853129123), (-22.472595471, -17.03925296), (22.472595471, -17.03925296), (22.472595471, -4.853129123), align=None)
    extrude(amount=CUT_EXTRUDE2_DEPTH + CUT_EXTRUDE2_DEPTH_BACK, mode=Mode.SUBTRACT)


solid = part.part
